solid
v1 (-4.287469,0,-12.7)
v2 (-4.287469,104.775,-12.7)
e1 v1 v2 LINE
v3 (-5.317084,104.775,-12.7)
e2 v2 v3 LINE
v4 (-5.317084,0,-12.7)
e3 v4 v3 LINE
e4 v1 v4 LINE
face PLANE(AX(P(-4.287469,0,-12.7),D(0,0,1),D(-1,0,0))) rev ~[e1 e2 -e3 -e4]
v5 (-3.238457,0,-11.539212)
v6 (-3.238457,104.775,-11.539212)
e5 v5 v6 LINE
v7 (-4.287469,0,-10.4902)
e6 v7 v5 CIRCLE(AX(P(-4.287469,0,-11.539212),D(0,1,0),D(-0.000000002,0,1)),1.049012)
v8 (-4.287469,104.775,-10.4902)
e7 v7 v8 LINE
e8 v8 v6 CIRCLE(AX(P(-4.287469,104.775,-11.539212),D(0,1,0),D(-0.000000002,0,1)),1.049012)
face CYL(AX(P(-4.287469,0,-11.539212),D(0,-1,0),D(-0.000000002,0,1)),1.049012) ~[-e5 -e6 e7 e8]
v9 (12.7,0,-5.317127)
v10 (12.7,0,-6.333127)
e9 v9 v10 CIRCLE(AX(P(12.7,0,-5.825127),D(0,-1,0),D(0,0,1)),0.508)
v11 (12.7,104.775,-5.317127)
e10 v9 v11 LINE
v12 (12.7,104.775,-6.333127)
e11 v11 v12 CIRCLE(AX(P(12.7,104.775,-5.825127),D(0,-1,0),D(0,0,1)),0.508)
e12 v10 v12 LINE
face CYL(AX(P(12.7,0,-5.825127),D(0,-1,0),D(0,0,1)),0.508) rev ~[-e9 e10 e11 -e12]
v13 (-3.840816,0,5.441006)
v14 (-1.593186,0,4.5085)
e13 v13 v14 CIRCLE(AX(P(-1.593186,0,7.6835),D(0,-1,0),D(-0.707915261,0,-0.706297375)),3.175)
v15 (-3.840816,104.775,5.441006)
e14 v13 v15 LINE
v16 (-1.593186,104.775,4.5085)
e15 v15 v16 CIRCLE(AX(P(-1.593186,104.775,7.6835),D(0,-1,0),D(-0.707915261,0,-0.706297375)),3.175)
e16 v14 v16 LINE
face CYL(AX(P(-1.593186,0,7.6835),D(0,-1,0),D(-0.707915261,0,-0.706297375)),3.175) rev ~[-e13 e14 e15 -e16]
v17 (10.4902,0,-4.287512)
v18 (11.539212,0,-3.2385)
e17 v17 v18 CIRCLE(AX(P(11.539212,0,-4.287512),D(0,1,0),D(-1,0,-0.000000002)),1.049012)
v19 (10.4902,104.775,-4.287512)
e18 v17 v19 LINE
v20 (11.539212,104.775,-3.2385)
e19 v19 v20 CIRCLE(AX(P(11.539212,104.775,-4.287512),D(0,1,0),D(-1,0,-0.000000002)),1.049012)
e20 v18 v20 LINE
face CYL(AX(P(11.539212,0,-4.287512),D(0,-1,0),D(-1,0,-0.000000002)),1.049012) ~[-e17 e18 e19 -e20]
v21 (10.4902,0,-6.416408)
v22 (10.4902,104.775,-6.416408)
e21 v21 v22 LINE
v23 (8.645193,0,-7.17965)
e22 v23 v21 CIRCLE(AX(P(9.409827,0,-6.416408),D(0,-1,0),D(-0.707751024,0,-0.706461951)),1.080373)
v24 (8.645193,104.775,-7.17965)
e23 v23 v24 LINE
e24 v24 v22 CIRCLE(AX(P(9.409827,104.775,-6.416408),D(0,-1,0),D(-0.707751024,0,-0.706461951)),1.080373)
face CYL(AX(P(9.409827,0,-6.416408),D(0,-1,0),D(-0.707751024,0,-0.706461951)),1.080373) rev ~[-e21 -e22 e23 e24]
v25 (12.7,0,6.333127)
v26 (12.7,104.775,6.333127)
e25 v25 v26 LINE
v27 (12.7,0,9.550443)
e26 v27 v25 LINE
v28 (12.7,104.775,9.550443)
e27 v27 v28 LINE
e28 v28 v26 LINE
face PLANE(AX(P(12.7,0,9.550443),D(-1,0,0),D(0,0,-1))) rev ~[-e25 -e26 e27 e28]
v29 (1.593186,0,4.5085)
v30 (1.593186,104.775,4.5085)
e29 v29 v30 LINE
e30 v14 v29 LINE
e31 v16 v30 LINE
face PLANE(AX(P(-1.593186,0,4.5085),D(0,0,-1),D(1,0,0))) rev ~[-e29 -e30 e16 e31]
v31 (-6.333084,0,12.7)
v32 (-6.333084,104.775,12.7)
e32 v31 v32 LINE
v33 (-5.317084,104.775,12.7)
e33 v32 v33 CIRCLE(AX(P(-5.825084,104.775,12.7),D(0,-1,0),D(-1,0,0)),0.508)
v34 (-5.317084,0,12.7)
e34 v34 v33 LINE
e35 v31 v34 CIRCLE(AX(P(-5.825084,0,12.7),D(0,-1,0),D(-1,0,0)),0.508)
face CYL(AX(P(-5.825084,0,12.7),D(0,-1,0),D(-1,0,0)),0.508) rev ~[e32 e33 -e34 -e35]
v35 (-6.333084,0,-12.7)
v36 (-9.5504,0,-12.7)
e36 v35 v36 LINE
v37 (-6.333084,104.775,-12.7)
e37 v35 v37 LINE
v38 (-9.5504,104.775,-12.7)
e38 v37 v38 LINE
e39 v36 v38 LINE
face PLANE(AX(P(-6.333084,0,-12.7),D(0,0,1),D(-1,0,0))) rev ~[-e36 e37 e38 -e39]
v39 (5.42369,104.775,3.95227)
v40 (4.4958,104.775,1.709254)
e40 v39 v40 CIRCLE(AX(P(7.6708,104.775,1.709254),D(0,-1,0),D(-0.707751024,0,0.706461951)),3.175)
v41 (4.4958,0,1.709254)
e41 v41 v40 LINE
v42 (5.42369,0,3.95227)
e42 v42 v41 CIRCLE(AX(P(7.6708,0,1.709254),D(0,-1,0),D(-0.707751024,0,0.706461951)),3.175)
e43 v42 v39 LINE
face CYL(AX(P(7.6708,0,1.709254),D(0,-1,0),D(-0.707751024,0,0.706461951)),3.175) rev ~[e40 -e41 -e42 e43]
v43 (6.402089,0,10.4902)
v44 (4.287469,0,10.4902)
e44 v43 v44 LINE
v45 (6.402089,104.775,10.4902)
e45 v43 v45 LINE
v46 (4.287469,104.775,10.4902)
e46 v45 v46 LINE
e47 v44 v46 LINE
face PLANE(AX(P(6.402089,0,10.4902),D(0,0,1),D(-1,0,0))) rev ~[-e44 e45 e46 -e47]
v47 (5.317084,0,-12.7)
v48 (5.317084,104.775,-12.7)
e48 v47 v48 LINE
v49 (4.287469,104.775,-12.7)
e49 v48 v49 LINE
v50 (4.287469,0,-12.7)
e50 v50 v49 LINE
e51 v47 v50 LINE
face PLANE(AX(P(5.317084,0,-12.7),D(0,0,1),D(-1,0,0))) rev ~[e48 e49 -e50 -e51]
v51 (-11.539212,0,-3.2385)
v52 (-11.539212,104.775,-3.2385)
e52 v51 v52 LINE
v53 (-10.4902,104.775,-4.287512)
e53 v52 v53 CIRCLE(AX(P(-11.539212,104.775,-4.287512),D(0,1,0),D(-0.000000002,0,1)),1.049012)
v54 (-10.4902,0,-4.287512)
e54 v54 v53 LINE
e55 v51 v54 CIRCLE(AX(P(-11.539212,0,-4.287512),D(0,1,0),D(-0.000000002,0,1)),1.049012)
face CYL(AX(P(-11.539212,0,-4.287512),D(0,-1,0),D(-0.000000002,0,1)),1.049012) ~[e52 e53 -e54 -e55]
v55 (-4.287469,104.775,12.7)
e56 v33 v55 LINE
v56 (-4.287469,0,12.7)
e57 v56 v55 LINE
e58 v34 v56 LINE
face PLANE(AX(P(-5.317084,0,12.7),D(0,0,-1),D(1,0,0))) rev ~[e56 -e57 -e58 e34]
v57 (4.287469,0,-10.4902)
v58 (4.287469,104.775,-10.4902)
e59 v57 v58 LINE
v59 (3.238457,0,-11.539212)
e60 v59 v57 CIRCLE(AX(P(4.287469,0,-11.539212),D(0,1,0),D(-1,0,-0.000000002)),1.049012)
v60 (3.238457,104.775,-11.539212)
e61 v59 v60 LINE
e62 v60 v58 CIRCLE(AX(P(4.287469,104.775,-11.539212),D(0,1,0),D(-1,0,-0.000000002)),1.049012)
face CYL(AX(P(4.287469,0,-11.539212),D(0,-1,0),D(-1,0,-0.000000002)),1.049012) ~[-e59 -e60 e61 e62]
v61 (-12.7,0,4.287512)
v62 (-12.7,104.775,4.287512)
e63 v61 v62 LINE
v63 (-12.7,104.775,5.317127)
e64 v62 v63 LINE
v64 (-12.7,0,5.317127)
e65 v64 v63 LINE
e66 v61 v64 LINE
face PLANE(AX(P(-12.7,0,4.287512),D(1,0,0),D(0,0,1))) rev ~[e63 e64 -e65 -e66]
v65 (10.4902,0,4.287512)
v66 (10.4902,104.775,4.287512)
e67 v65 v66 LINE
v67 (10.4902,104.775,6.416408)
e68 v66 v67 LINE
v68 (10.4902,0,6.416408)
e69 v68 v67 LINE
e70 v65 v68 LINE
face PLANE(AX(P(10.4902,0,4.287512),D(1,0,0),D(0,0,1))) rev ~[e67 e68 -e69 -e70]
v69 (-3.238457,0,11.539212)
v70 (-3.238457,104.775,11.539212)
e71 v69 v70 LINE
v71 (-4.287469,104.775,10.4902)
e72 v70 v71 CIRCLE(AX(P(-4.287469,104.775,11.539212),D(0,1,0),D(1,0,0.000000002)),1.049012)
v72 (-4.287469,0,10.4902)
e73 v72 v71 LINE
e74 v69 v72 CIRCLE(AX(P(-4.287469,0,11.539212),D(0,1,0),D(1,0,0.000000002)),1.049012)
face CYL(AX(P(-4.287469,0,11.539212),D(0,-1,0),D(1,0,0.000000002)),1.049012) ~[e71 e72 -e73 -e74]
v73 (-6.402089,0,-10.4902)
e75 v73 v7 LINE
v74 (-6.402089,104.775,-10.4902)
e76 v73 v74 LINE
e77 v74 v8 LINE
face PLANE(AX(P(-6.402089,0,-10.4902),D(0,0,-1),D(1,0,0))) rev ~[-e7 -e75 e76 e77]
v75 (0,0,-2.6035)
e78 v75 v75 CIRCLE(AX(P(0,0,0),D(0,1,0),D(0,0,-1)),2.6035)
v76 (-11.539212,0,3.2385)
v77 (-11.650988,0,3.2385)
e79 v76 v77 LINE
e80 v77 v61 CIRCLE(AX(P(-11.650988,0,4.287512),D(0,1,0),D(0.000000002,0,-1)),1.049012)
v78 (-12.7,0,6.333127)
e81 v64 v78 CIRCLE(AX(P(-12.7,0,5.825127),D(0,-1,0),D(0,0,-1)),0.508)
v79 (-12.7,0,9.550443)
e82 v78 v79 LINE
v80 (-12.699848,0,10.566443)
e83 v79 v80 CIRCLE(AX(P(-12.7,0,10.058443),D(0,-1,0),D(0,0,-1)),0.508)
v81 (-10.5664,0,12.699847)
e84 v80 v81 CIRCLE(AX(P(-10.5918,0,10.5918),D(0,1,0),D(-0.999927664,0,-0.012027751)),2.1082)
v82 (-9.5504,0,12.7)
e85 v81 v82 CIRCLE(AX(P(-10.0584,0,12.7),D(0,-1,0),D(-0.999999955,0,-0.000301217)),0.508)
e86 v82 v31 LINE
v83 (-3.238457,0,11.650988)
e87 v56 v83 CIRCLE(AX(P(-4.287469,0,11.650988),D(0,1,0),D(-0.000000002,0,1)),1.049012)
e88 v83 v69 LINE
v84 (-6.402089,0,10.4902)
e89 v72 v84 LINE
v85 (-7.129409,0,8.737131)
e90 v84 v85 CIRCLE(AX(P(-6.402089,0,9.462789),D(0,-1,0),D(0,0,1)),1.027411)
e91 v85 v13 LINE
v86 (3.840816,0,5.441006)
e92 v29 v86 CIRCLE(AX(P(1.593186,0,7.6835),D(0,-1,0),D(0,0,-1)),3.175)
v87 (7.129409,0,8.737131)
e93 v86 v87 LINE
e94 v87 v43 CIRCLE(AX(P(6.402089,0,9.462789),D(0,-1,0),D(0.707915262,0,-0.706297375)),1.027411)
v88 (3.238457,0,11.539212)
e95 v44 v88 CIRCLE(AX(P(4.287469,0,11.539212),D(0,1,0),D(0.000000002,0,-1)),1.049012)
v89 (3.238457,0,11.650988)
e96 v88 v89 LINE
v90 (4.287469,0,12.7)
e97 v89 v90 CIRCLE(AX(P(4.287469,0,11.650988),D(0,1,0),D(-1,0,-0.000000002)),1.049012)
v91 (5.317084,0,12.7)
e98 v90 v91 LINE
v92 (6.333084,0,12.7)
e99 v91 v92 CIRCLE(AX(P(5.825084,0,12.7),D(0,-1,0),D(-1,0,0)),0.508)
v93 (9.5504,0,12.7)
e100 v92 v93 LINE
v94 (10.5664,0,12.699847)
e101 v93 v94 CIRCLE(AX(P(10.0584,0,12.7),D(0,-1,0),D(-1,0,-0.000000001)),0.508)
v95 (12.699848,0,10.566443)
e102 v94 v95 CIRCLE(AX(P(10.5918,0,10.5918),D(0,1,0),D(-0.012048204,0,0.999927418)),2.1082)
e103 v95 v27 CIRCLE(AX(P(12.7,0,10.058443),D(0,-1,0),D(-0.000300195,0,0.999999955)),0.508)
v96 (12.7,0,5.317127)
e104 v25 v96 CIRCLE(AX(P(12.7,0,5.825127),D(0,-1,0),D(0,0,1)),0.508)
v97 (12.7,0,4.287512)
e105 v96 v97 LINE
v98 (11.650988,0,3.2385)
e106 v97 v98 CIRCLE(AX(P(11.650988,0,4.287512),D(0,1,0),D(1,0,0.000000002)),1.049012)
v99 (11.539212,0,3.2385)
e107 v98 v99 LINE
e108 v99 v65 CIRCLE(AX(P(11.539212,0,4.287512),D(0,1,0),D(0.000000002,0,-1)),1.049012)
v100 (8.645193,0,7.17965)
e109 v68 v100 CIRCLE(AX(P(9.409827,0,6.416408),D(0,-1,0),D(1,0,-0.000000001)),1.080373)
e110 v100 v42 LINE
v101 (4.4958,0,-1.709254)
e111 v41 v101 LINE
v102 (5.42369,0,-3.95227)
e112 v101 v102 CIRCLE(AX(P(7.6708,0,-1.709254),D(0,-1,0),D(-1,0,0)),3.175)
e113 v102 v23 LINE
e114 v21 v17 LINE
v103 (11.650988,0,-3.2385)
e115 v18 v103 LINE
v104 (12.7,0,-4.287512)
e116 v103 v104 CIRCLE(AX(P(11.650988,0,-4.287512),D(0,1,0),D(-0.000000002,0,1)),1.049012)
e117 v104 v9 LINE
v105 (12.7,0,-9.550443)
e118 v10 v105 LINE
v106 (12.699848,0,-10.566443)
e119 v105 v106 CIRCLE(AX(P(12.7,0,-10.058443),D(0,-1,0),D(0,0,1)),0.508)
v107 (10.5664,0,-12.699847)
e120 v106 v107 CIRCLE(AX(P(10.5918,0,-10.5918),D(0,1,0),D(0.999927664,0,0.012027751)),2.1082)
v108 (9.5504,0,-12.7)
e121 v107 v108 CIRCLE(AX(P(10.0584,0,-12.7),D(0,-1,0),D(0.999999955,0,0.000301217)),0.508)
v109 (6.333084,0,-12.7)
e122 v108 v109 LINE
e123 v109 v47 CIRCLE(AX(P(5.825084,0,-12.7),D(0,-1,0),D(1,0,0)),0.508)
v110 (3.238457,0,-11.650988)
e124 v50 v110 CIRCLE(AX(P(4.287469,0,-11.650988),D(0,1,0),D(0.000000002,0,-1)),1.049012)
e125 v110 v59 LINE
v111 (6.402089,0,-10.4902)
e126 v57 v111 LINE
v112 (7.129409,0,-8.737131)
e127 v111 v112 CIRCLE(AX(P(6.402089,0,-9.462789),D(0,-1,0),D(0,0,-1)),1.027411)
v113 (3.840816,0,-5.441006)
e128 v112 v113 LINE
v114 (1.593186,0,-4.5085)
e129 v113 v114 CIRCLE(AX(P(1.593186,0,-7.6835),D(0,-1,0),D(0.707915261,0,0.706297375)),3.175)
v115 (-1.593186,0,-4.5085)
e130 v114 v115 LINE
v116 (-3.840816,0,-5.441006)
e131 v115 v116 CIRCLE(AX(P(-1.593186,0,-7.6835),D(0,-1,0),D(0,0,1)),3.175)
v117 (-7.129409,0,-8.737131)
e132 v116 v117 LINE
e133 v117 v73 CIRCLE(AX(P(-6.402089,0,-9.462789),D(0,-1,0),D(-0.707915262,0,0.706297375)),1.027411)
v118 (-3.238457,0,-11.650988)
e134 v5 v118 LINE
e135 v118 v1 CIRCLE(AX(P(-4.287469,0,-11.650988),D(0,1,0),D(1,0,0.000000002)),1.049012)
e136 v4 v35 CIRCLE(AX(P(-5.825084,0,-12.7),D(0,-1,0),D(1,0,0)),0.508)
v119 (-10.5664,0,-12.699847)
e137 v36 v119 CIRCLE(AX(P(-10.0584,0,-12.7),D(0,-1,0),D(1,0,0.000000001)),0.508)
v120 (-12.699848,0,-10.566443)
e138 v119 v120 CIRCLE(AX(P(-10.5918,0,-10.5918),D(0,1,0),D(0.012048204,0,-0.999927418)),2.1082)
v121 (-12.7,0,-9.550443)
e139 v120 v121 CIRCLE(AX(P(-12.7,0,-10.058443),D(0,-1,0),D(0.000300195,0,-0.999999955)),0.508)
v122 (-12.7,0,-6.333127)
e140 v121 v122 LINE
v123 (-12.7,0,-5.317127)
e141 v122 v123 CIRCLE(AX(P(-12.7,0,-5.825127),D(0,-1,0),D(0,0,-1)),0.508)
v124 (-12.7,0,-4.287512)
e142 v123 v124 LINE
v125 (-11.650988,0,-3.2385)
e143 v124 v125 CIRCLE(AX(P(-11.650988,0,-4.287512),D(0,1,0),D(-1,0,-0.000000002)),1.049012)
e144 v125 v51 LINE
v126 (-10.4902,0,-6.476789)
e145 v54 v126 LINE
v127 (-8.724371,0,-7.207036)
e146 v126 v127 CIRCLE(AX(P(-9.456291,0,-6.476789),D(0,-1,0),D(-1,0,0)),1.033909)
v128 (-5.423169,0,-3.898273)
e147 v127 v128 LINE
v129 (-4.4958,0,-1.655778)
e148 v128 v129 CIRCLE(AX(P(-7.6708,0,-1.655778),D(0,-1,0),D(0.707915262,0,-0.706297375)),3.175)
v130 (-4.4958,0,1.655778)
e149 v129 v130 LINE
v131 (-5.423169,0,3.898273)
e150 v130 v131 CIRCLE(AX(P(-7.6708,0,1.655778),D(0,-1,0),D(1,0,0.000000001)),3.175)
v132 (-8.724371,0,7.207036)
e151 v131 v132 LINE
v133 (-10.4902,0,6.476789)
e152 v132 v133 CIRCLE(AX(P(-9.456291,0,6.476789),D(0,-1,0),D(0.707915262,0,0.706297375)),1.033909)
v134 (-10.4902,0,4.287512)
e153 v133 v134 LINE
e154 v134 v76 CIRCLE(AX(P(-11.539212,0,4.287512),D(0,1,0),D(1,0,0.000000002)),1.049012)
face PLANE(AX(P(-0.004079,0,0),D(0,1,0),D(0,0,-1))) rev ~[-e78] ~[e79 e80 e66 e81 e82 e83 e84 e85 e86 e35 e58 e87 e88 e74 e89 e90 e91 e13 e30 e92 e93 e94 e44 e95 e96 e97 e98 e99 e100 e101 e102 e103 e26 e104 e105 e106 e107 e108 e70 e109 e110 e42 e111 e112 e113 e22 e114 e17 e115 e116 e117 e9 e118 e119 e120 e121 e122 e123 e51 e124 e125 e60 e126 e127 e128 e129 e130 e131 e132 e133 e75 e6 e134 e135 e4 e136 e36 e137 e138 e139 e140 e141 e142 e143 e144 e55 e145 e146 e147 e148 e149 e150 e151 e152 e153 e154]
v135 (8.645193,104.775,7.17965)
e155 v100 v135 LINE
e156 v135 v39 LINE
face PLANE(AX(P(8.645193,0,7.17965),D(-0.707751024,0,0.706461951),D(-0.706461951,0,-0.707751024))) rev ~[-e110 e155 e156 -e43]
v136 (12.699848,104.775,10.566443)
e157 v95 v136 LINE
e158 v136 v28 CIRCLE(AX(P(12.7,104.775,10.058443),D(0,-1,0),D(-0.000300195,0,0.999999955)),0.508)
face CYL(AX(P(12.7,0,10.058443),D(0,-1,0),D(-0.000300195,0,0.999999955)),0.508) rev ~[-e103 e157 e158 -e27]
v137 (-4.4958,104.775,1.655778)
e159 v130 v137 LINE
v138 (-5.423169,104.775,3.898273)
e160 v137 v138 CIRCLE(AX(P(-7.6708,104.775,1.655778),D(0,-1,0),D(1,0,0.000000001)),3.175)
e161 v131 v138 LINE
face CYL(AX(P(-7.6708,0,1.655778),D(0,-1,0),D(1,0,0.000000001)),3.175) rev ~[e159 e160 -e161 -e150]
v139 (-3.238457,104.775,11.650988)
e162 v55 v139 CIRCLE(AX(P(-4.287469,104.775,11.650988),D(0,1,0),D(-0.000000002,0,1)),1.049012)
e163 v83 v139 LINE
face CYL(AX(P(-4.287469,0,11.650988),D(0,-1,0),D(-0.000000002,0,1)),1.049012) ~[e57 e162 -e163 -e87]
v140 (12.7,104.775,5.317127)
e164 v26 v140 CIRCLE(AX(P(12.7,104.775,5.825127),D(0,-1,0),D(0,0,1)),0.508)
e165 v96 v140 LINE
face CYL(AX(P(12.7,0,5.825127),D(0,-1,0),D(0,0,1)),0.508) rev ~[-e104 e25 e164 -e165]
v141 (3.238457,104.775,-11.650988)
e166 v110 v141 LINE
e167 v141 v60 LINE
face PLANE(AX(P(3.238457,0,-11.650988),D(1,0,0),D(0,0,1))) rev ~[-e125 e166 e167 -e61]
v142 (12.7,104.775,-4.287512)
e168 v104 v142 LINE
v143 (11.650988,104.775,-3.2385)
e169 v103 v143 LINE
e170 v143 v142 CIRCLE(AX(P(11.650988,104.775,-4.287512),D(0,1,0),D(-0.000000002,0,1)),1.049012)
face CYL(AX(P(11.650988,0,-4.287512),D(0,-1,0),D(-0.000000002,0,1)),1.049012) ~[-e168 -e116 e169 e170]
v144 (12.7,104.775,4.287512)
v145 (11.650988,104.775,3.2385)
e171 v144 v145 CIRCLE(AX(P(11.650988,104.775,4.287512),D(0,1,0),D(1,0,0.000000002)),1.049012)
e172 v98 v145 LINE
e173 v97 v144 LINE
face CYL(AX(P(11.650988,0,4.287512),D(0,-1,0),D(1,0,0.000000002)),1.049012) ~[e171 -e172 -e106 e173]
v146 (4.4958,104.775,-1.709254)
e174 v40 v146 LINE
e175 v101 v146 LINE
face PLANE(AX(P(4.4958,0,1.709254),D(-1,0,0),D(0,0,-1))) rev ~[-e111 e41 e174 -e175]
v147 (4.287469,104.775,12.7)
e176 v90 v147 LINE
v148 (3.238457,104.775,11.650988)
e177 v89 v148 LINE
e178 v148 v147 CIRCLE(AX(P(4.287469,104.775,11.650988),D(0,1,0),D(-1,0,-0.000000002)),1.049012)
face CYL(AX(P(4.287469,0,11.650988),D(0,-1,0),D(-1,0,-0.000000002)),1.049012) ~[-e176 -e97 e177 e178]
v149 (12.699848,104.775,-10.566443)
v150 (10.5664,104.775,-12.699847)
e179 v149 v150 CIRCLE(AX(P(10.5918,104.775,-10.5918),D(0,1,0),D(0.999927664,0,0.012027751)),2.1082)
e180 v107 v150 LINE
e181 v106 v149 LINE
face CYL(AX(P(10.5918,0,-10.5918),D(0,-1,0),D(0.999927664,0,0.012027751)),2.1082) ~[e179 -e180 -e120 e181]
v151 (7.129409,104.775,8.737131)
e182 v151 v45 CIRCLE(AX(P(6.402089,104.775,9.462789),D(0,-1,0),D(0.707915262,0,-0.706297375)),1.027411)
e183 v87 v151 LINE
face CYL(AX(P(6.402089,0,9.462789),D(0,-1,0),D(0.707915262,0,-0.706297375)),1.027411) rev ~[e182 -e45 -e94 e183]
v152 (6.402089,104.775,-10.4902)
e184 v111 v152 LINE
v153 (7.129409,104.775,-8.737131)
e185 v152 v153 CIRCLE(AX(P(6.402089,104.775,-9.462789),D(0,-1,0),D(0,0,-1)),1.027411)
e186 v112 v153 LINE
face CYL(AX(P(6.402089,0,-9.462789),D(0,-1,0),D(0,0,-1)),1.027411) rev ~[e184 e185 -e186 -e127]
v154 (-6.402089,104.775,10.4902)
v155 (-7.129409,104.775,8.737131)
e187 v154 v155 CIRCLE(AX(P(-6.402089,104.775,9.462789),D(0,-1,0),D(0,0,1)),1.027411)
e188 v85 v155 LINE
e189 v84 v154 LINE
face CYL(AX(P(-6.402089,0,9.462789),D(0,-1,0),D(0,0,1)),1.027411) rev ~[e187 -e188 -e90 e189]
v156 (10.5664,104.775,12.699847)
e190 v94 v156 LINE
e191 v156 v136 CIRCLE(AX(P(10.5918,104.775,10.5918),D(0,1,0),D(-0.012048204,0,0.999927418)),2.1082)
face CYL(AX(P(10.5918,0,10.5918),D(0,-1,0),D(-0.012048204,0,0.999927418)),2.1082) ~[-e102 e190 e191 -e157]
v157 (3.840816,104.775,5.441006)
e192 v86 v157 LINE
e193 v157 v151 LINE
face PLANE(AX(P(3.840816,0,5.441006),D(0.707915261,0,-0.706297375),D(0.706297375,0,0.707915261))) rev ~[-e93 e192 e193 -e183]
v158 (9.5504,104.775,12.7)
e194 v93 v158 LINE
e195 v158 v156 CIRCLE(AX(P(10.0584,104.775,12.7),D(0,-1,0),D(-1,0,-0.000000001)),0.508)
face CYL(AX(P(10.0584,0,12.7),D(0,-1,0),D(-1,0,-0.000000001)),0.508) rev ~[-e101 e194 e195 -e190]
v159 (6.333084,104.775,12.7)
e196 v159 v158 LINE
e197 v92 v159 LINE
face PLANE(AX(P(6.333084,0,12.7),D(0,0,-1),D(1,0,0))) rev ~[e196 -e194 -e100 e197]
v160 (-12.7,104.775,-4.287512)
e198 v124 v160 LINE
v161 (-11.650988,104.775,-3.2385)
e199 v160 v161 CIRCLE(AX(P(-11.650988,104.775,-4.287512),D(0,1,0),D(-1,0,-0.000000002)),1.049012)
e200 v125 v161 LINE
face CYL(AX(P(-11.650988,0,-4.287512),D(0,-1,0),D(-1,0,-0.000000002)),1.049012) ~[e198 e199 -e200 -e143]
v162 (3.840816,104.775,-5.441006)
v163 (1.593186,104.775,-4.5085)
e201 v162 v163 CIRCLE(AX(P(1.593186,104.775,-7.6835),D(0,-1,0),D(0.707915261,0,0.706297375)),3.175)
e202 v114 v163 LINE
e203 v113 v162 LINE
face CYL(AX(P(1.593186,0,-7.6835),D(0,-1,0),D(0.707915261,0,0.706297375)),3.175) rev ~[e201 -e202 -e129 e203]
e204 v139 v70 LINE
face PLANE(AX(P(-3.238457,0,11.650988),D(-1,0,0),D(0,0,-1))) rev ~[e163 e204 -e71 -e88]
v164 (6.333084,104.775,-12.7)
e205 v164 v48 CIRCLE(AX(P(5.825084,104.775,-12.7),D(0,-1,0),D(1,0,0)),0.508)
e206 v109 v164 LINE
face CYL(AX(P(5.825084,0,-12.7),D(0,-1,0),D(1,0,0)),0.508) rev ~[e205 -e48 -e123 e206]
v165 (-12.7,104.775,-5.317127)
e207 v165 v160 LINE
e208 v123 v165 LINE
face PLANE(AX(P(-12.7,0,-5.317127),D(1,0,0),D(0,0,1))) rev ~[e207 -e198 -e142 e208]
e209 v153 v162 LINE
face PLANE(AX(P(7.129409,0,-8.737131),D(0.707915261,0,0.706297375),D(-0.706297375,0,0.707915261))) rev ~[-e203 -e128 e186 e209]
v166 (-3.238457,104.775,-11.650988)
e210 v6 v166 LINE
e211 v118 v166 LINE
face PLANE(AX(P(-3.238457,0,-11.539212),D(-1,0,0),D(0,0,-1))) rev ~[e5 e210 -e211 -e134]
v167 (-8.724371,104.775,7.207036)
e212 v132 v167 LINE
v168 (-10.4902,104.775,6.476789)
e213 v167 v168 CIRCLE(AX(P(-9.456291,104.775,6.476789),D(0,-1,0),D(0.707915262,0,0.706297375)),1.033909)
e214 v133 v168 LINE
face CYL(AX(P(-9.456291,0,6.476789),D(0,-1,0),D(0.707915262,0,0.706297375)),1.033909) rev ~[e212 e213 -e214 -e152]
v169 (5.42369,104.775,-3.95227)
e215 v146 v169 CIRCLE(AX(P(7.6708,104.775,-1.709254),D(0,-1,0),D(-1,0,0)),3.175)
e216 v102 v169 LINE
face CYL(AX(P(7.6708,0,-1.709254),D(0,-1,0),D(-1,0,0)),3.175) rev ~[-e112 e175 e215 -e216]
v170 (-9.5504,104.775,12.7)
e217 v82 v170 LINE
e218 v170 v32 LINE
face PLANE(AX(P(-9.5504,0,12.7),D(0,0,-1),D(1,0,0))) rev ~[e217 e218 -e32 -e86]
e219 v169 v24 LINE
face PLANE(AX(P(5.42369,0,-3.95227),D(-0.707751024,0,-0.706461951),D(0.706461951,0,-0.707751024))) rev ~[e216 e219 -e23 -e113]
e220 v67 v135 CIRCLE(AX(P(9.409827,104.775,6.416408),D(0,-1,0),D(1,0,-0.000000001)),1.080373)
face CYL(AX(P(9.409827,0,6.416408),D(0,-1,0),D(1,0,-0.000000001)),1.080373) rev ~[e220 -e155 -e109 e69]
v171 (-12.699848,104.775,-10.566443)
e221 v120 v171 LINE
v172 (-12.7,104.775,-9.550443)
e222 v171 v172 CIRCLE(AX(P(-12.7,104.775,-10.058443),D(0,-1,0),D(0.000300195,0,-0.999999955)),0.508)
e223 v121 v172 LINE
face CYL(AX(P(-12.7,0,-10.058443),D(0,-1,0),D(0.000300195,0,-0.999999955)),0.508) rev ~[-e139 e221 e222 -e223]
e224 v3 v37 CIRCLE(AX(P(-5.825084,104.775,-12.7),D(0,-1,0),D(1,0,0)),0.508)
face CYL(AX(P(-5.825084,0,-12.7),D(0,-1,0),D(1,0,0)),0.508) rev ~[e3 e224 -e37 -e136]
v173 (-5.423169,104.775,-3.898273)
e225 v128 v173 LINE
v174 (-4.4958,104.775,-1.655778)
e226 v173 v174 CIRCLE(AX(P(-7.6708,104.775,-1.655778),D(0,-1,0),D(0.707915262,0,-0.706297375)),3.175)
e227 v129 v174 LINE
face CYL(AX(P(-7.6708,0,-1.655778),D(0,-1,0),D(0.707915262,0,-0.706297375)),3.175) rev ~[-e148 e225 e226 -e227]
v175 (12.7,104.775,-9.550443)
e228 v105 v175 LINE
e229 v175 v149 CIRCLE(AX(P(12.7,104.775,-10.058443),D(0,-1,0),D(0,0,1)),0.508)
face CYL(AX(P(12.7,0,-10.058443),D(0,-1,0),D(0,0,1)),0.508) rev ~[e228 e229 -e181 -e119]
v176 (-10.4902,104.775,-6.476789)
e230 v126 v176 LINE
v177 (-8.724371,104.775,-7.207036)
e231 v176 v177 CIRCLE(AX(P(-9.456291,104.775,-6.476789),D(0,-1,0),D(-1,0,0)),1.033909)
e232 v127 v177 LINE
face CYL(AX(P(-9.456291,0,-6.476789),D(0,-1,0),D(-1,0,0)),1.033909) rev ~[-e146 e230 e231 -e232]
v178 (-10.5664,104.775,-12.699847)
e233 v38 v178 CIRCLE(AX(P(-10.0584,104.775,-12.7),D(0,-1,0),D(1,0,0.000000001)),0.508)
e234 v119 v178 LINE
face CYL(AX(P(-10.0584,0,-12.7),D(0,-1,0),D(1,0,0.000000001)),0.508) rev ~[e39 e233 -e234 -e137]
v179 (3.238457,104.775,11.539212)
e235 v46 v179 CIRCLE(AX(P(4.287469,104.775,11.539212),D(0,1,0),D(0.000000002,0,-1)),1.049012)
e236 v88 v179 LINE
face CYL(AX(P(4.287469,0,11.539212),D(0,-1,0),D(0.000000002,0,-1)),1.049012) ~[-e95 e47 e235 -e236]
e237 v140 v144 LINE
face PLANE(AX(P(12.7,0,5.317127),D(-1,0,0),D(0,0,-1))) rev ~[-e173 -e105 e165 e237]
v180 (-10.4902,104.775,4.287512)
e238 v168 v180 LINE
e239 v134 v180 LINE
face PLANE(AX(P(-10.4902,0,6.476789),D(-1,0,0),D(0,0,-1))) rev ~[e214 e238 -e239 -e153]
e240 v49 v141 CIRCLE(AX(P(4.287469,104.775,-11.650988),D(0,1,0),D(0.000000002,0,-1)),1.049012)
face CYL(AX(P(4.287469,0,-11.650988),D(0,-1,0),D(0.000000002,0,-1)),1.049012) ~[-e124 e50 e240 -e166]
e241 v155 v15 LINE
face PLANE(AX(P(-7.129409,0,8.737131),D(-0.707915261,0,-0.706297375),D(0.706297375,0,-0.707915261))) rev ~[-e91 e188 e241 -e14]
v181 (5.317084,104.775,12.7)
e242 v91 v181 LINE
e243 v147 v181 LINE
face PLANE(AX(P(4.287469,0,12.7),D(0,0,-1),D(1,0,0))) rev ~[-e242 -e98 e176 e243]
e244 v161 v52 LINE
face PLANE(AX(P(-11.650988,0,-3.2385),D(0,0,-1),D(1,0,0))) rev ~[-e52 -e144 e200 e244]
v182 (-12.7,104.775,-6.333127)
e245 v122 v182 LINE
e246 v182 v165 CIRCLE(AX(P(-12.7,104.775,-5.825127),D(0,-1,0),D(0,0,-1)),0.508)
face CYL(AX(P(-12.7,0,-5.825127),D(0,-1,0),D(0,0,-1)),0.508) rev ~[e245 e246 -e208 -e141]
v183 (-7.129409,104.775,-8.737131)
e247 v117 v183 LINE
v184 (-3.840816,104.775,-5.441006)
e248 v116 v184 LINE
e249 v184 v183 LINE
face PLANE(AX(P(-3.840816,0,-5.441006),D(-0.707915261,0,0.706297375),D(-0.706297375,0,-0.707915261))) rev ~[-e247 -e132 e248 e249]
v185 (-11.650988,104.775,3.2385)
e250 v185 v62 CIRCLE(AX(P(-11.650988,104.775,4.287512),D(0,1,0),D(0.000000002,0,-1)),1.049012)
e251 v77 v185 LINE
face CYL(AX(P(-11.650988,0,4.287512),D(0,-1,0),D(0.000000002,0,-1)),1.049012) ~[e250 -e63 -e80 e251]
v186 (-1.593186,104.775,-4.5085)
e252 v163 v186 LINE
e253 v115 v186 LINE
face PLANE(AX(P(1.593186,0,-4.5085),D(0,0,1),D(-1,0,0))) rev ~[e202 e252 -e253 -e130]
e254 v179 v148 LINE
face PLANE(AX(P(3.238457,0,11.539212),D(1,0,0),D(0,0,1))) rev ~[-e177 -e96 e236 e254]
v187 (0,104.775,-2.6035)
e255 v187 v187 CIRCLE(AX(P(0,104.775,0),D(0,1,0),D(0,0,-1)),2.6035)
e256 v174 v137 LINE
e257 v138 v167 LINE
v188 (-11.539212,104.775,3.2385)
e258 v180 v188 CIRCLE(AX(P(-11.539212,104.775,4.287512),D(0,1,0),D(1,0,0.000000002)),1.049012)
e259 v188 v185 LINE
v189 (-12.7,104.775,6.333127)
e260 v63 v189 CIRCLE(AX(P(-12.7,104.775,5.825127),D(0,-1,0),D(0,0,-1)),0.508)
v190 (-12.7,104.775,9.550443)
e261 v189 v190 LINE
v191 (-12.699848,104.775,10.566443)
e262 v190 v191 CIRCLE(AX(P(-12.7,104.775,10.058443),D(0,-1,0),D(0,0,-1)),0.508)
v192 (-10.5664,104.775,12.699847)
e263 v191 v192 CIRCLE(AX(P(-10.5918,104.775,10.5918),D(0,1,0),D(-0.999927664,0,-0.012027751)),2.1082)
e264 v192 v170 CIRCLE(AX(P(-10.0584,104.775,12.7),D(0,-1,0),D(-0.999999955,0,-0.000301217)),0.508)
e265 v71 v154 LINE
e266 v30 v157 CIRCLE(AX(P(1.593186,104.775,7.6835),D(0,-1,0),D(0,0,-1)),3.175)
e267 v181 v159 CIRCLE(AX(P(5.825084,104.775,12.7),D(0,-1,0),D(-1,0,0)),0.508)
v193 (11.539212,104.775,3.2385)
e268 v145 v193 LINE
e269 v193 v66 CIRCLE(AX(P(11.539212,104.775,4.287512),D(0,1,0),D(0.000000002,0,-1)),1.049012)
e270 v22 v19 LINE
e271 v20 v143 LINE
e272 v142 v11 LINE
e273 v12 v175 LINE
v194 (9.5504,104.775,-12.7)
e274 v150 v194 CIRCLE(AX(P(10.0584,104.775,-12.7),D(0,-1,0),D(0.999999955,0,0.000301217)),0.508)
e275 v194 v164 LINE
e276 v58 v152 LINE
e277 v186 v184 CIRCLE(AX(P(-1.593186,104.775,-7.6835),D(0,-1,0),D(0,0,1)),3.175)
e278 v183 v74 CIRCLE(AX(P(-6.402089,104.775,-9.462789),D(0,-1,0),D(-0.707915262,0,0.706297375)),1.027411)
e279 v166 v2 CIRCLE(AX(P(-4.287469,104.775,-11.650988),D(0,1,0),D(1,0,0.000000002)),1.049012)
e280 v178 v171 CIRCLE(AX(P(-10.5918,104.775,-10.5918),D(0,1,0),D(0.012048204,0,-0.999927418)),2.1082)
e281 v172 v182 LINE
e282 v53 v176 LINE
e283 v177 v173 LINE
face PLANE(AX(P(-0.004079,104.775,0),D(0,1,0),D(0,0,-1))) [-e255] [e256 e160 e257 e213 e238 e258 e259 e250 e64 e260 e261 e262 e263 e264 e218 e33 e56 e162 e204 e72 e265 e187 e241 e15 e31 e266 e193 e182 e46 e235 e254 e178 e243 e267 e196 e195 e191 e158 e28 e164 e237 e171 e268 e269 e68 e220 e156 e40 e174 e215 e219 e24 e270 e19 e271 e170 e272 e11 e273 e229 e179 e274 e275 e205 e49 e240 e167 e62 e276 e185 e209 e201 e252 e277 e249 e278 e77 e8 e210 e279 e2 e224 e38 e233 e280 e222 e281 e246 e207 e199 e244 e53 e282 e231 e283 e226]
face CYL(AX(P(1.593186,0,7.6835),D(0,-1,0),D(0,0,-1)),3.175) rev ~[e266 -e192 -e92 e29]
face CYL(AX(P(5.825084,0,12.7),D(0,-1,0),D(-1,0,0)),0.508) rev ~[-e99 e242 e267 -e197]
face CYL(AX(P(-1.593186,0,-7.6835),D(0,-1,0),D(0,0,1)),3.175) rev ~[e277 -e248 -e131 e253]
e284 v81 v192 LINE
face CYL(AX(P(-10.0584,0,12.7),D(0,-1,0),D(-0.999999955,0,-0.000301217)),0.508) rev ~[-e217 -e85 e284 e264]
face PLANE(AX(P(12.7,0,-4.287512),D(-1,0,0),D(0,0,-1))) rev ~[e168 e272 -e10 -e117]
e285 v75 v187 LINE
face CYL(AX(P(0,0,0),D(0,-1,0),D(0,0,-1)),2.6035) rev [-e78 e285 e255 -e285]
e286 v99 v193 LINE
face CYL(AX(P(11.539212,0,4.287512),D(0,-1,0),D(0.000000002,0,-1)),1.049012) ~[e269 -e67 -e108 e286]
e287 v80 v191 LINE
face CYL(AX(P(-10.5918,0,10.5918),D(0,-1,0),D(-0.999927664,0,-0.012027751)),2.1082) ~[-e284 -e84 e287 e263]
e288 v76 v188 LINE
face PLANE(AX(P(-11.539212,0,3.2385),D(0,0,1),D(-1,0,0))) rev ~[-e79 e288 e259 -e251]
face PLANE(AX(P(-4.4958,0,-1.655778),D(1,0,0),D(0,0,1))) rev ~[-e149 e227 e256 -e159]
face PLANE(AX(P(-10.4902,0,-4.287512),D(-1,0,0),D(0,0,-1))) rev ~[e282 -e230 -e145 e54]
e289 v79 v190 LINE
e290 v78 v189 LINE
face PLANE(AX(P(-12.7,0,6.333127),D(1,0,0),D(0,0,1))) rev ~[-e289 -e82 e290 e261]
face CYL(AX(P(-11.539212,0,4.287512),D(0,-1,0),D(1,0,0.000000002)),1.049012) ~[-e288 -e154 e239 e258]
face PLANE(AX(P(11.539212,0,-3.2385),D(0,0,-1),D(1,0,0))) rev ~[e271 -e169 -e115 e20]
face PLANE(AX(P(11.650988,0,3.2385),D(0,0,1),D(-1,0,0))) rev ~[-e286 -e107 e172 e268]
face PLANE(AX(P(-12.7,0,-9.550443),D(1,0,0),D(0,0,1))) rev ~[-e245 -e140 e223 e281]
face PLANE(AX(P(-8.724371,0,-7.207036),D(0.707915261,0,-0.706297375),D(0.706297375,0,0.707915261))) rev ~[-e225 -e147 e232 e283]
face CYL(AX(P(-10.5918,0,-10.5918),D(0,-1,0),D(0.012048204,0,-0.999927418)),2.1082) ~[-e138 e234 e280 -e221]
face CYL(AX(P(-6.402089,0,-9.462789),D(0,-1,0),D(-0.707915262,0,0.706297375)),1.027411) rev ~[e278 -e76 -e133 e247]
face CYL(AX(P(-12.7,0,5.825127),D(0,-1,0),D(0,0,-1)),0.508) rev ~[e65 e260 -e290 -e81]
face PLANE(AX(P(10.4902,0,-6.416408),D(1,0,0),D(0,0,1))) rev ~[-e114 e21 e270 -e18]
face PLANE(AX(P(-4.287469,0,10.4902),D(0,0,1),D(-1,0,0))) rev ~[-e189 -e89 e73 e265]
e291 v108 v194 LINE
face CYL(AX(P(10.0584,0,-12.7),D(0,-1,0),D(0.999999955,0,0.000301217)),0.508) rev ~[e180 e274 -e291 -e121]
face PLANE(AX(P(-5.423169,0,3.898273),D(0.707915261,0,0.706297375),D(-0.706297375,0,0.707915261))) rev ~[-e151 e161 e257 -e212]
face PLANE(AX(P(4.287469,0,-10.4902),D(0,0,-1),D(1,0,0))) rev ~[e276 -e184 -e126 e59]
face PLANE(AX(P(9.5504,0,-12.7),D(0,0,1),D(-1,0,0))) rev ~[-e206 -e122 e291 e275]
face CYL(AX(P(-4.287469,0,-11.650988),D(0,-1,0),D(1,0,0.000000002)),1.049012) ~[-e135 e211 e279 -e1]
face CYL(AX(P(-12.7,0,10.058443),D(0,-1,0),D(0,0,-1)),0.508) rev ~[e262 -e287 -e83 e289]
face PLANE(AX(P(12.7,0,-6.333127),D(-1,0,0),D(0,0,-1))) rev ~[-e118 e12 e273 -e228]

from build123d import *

# Parameters (mm, degrees)
SKETCH1_R           = 2.6035
BOSS_EXTRUDE1_DEPTH = 104.775


with BuildPart() as part:
    # Sketch1 → Boss-Extrude1 (new body)
    with BuildSketch(Plane(origin=(0, 0, 0), x_dir=(0, 0, -1), z_dir=(0, 1, 0))):
        with BuildLine():
            Line((6.333126718, -12.7), (9.550443118, -12.7))
            ThreePointArc((9.550443118, -12.7), (10.058366869, -12.192000006), (10.566443095, -12.699847501))
            ThreePointArc((10.566443095, -12.699847501), (12.082537762, -12.08250727), (12.699846982, -10.566399977))
            ThreePointArc((12.699846982, -10.566399977), (12.192000006, -10.058323491), (12.7, -9.5504))
            Line((12.7, -9.5504), (12.7, -6.3330836))
            ThreePointArc((12.7, -6.3330836), (12.192, -5.8250836), (12.7, -5.3170836))
            Line((12.7, -5.3170836), (12.7, -4.287469289))
            ThreePointArc((12.7, -4.287469289), (12.39275138, -3.545705502), (11.650987593, -3.238456882))
            Line((11.650987593, -3.238456882), (11.539212407, -3.238456882))
            ThreePointArc((11.539212407, -3.238456882), (10.79744862, -3.545705502), (10.4902, -4.287469289))
            Line((10.4902, -4.287469289), (10.4902, -6.402089023))
            ThreePointArc((10.4902, -6.402089023), (9.856505071, -7.351067942), (8.737131347, -7.129408934))
            Line((8.737131347, -7.129408934), (5.441005833, -3.840816462))
            ThreePointArc((5.441005833, -3.840816462), (4.750877967, -2.809883091), (4.5085, -1.593185507))
            Line((4.5085, -1.593185507), (4.5085, 1.593185507))
            ThreePointArc((4.5085, 1.593185507), (4.750877967, 2.809883091), (5.441005833, 3.840816462))
            Line((5.441005833, 3.840816462), (8.737131347, 7.129408934))
            ThreePointArc((8.737131347, 7.129408934), (9.856505071, 7.351067942), (10.4902, 6.402089023))
            Line((10.4902, 6.402089023), (10.4902, 4.287469289))
            ThreePointArc((10.4902, 4.287469289), (10.79744862, 3.545705502), (11.539212407, 3.238456882))
            Line((11.539212407, 3.238456882), (11.650987593, 3.238456882))
            ThreePointArc((11.650987593, 3.238456882), (12.39275138, 3.545705502), (12.7, 4.287469289))
            Line((12.7, 4.287469289), (12.7, 5.3170836))
            ThreePointArc((12.7, 5.3170836), (12.192, 5.8250836), (12.7, 6.3330836))
            Line((12.7, 6.3330836), (12.7, 9.5504))
            ThreePointArc((12.7, 9.5504), (12.192000006, 10.058323491), (12.699846982, 10.566399977))
            ThreePointArc((12.699846982, 10.566399977), (12.082537762, 12.08250727), (10.566443095, 12.699847501))
            ThreePointArc((10.566443095, 12.699847501), (10.058366869, 12.192000006), (9.550443118, 12.7))
            Line((9.550443118, 12.7), (6.333126718, 12.7))
            ThreePointArc((6.333126718, 12.7), (5.825126718, 12.192), (5.317126718, 12.7))
            Line((5.317126718, 12.7), (4.287512407, 12.7))
            ThreePointArc((4.287512407, 12.7), (3.54574862, 12.39275138), (3.2385, 11.650987593))
            Line((3.2385, 11.650987593), (3.2385, 11.539212407))
            ThreePointArc((3.2385, 11.539212407), (3.54574862, 10.79744862), (4.287512407, 10.4902))
            Line((4.287512407, 10.4902), (6.476788598, 10.4902))
            ThreePointArc((6.476788598, 10.4902), (7.432222385, 9.85140422), (7.207036008, 8.724370562))
            Line((7.207036008, 8.724370562), (3.898272566, 5.423169045))
            ThreePointArc((3.898272566, 5.423169045), (2.869120213, 4.736787962), (1.655778399, 4.4958))
            Line((1.655778399, 4.4958), (-1.655778399, 4.4958))
            ThreePointArc((-1.655778399, 4.4958), (-2.869120213, 4.736787962), (-3.898272566, 5.423169045))
            Line((-3.898272566, 5.423169045), (-7.207036008, 8.724370562))
            ThreePointArc((-7.207036008, 8.724370562), (-7.432222385, 9.85140422), (-6.476788598, 10.4902))
            Line((-6.476788598, 10.4902), (-4.287512407, 10.4902))
            ThreePointArc((-4.287512407, 10.4902), (-3.54574862, 10.79744862), (-3.2385, 11.539212407))
            Line((-3.2385, 11.539212407), (-3.2385, 11.650987593))
            ThreePointArc((-3.2385, 11.650987593), (-3.54574862, 12.39275138), (-4.287512407, 12.7))
            Line((-4.287512407, 12.7), (-5.317126718, 12.7))
            ThreePointArc((-5.317126718, 12.7), (-5.825126718, 12.192), (-6.333126718, 12.7))
            Line((-6.333126718, 12.7), (-9.550443118, 12.7))
            ThreePointArc((-9.550443118, 12.7), (-10.058366869, 12.192000006), (-10.566443095, 12.699847501))
            ThreePointArc((-10.566443095, 12.699847501), (-12.082537762, 12.08250727), (-12.699846982, 10.566399977))
            ThreePointArc((-12.699846982, 10.566399977), (-12.192000006, 10.058323491), (-12.7, 9.5504))
            Line((-12.7, 9.5504), (-12.7, 6.3330836))
            ThreePointArc((-12.7, 6.3330836), (-12.192, 5.8250836), (-12.7, 5.3170836))
            Line((-12.7, 5.3170836), (-12.7, 4.287469289))
            ThreePointArc((-12.7, 4.287469289), (-12.39275138, 3.545705502), (-11.650987593, 3.238456882))
            Line((-11.650987593, 3.238456882), (-11.539212407, 3.238456882))
            ThreePointArc((-11.539212407, 3.238456882), (-10.79744862, 3.545705502), (-10.4902, 4.287469289))
            Line((-10.4902, 4.287469289), (-10.4902, 6.402089023))
            ThreePointArc((-10.4902, 6.402089023), (-9.856505071, 7.351067942), (-8.737131347, 7.129408934))
            Line((-8.737131347, 7.129408934), (-5.441005833, 3.840816462))
            ThreePointArc((-5.441005833, 3.840816462), (-4.750877967, 2.809883091), (-4.5085, 1.593185507))
            Line((-4.5085, 1.593185507), (-4.5085, -1.593185507))
            ThreePointArc((-4.5085, -1.593185507), (-4.750877967, -2.809883091), (-5.441005833, -3.840816462))
            Line((-5.441005833, -3.840816462), (-8.737131347, -7.129408934))
            ThreePointArc((-8.737131347, -7.129408934), (-9.856505071, -7.351067942), (-10.4902, -6.402089023))
            Line((-10.4902, -6.402089023), (-10.4902, -4.287469289))
            ThreePointArc((-10.4902, -4.287469289), (-10.79744862, -3.545705502), (-11.539212407, -3.238456882))
            Line((-11.539212407, -3.238456882), (-11.650987593, -3.238456882))
            ThreePointArc((-11.650987593, -3.238456882), (-12.39275138, -3.545705502), (-12.7, -4.287469289))
            Line((-12.7, -4.287469289), (-12.7, -5.3170836))
            ThreePointArc((-12.7, -5.3170836), (-12.192, -5.8250836), (-12.7, -6.3330836))
            Line((-12.7, -6.3330836), (-12.7, -9.5504))
            ThreePointArc((-12.7, -9.5504), (-12.192000006, -10.058323491), (-12.699846982, -10.566399977))
            ThreePointArc((-12.699846982, -10.566399977), (-12.082537762, -12.08250727), (-10.566443095, -12.699847501))
            ThreePointArc((-10.566443095, -12.699847501), (-10.058366869, -12.192000006), (-9.550443118, -12.7))
            Line((-9.550443118, -12.7), (-6.333126718, -12.7))
            ThreePointArc((-6.333126718, -12.7), (-5.825126718, -12.192), (-5.317126718, -12.7))
            Line((-5.317126718, -12.7), (-4.287512407, -12.7))
            ThreePointArc((-4.287512407, -12.7), (-3.54574862, -12.39275138), (-3.2385, -11.650987593))
            Line((-3.2385, -11.650987593), (-3.2385, -11.539212407))
            ThreePointArc((-3.2385, -11.539212407), (-3.54574862, -10.79744862), (-4.287512407, -10.4902))
            Line((-4.287512407, -10.4902), (-6.416408329, -10.4902))
            ThreePointArc((-6.416408329, -10.4902), (-7.41473083, -9.822813117), (-7.179650497, -8.645192506))
            Line((-7.179650497, -8.645192506), (-3.952270251, -5.423690499))
            ThreePointArc((-3.952270251, -5.423690499), (-2.922936451, -4.736929036), (-1.709253557, -4.4958))
            Line((-1.709253557, -4.4958), (1.709253557, -4.4958))
            ThreePointArc((1.709253557, -4.4958), (2.922936451, -4.736929036), (3.952270251, -5.423690499))
            Line((3.952270251, -5.423690499), (7.179650497, -8.645192506))
            ThreePointArc((7.179650497, -8.645192506), (7.41473083, -9.822813117), (6.416408329, -10.4902))
            Line((6.416408329, -10.4902), (4.287512407, -10.4902))
            ThreePointArc((4.287512407, -10.4902), (3.54574862, -10.79744862), (3.2385, -11.539212407))
            Line((3.2385, -11.539212407), (3.2385, -11.650987593))
            ThreePointArc((3.2385, -11.650987593), (3.54574862, -12.39275138), (4.287512407, -12.7))
            Line((4.287512407, -12.7), (5.317126718, -12.7))
            ThreePointArc((5.317126718, -12.7), (5.825126718, -12.192), (6.333126718, -12.7))
        make_face()
        Circle(SKETCH1_R, mode=Mode.SUBTRACT)
    extrude(amount=BOSS_EXTRUDE1_DEPTH)


solid = part.part
